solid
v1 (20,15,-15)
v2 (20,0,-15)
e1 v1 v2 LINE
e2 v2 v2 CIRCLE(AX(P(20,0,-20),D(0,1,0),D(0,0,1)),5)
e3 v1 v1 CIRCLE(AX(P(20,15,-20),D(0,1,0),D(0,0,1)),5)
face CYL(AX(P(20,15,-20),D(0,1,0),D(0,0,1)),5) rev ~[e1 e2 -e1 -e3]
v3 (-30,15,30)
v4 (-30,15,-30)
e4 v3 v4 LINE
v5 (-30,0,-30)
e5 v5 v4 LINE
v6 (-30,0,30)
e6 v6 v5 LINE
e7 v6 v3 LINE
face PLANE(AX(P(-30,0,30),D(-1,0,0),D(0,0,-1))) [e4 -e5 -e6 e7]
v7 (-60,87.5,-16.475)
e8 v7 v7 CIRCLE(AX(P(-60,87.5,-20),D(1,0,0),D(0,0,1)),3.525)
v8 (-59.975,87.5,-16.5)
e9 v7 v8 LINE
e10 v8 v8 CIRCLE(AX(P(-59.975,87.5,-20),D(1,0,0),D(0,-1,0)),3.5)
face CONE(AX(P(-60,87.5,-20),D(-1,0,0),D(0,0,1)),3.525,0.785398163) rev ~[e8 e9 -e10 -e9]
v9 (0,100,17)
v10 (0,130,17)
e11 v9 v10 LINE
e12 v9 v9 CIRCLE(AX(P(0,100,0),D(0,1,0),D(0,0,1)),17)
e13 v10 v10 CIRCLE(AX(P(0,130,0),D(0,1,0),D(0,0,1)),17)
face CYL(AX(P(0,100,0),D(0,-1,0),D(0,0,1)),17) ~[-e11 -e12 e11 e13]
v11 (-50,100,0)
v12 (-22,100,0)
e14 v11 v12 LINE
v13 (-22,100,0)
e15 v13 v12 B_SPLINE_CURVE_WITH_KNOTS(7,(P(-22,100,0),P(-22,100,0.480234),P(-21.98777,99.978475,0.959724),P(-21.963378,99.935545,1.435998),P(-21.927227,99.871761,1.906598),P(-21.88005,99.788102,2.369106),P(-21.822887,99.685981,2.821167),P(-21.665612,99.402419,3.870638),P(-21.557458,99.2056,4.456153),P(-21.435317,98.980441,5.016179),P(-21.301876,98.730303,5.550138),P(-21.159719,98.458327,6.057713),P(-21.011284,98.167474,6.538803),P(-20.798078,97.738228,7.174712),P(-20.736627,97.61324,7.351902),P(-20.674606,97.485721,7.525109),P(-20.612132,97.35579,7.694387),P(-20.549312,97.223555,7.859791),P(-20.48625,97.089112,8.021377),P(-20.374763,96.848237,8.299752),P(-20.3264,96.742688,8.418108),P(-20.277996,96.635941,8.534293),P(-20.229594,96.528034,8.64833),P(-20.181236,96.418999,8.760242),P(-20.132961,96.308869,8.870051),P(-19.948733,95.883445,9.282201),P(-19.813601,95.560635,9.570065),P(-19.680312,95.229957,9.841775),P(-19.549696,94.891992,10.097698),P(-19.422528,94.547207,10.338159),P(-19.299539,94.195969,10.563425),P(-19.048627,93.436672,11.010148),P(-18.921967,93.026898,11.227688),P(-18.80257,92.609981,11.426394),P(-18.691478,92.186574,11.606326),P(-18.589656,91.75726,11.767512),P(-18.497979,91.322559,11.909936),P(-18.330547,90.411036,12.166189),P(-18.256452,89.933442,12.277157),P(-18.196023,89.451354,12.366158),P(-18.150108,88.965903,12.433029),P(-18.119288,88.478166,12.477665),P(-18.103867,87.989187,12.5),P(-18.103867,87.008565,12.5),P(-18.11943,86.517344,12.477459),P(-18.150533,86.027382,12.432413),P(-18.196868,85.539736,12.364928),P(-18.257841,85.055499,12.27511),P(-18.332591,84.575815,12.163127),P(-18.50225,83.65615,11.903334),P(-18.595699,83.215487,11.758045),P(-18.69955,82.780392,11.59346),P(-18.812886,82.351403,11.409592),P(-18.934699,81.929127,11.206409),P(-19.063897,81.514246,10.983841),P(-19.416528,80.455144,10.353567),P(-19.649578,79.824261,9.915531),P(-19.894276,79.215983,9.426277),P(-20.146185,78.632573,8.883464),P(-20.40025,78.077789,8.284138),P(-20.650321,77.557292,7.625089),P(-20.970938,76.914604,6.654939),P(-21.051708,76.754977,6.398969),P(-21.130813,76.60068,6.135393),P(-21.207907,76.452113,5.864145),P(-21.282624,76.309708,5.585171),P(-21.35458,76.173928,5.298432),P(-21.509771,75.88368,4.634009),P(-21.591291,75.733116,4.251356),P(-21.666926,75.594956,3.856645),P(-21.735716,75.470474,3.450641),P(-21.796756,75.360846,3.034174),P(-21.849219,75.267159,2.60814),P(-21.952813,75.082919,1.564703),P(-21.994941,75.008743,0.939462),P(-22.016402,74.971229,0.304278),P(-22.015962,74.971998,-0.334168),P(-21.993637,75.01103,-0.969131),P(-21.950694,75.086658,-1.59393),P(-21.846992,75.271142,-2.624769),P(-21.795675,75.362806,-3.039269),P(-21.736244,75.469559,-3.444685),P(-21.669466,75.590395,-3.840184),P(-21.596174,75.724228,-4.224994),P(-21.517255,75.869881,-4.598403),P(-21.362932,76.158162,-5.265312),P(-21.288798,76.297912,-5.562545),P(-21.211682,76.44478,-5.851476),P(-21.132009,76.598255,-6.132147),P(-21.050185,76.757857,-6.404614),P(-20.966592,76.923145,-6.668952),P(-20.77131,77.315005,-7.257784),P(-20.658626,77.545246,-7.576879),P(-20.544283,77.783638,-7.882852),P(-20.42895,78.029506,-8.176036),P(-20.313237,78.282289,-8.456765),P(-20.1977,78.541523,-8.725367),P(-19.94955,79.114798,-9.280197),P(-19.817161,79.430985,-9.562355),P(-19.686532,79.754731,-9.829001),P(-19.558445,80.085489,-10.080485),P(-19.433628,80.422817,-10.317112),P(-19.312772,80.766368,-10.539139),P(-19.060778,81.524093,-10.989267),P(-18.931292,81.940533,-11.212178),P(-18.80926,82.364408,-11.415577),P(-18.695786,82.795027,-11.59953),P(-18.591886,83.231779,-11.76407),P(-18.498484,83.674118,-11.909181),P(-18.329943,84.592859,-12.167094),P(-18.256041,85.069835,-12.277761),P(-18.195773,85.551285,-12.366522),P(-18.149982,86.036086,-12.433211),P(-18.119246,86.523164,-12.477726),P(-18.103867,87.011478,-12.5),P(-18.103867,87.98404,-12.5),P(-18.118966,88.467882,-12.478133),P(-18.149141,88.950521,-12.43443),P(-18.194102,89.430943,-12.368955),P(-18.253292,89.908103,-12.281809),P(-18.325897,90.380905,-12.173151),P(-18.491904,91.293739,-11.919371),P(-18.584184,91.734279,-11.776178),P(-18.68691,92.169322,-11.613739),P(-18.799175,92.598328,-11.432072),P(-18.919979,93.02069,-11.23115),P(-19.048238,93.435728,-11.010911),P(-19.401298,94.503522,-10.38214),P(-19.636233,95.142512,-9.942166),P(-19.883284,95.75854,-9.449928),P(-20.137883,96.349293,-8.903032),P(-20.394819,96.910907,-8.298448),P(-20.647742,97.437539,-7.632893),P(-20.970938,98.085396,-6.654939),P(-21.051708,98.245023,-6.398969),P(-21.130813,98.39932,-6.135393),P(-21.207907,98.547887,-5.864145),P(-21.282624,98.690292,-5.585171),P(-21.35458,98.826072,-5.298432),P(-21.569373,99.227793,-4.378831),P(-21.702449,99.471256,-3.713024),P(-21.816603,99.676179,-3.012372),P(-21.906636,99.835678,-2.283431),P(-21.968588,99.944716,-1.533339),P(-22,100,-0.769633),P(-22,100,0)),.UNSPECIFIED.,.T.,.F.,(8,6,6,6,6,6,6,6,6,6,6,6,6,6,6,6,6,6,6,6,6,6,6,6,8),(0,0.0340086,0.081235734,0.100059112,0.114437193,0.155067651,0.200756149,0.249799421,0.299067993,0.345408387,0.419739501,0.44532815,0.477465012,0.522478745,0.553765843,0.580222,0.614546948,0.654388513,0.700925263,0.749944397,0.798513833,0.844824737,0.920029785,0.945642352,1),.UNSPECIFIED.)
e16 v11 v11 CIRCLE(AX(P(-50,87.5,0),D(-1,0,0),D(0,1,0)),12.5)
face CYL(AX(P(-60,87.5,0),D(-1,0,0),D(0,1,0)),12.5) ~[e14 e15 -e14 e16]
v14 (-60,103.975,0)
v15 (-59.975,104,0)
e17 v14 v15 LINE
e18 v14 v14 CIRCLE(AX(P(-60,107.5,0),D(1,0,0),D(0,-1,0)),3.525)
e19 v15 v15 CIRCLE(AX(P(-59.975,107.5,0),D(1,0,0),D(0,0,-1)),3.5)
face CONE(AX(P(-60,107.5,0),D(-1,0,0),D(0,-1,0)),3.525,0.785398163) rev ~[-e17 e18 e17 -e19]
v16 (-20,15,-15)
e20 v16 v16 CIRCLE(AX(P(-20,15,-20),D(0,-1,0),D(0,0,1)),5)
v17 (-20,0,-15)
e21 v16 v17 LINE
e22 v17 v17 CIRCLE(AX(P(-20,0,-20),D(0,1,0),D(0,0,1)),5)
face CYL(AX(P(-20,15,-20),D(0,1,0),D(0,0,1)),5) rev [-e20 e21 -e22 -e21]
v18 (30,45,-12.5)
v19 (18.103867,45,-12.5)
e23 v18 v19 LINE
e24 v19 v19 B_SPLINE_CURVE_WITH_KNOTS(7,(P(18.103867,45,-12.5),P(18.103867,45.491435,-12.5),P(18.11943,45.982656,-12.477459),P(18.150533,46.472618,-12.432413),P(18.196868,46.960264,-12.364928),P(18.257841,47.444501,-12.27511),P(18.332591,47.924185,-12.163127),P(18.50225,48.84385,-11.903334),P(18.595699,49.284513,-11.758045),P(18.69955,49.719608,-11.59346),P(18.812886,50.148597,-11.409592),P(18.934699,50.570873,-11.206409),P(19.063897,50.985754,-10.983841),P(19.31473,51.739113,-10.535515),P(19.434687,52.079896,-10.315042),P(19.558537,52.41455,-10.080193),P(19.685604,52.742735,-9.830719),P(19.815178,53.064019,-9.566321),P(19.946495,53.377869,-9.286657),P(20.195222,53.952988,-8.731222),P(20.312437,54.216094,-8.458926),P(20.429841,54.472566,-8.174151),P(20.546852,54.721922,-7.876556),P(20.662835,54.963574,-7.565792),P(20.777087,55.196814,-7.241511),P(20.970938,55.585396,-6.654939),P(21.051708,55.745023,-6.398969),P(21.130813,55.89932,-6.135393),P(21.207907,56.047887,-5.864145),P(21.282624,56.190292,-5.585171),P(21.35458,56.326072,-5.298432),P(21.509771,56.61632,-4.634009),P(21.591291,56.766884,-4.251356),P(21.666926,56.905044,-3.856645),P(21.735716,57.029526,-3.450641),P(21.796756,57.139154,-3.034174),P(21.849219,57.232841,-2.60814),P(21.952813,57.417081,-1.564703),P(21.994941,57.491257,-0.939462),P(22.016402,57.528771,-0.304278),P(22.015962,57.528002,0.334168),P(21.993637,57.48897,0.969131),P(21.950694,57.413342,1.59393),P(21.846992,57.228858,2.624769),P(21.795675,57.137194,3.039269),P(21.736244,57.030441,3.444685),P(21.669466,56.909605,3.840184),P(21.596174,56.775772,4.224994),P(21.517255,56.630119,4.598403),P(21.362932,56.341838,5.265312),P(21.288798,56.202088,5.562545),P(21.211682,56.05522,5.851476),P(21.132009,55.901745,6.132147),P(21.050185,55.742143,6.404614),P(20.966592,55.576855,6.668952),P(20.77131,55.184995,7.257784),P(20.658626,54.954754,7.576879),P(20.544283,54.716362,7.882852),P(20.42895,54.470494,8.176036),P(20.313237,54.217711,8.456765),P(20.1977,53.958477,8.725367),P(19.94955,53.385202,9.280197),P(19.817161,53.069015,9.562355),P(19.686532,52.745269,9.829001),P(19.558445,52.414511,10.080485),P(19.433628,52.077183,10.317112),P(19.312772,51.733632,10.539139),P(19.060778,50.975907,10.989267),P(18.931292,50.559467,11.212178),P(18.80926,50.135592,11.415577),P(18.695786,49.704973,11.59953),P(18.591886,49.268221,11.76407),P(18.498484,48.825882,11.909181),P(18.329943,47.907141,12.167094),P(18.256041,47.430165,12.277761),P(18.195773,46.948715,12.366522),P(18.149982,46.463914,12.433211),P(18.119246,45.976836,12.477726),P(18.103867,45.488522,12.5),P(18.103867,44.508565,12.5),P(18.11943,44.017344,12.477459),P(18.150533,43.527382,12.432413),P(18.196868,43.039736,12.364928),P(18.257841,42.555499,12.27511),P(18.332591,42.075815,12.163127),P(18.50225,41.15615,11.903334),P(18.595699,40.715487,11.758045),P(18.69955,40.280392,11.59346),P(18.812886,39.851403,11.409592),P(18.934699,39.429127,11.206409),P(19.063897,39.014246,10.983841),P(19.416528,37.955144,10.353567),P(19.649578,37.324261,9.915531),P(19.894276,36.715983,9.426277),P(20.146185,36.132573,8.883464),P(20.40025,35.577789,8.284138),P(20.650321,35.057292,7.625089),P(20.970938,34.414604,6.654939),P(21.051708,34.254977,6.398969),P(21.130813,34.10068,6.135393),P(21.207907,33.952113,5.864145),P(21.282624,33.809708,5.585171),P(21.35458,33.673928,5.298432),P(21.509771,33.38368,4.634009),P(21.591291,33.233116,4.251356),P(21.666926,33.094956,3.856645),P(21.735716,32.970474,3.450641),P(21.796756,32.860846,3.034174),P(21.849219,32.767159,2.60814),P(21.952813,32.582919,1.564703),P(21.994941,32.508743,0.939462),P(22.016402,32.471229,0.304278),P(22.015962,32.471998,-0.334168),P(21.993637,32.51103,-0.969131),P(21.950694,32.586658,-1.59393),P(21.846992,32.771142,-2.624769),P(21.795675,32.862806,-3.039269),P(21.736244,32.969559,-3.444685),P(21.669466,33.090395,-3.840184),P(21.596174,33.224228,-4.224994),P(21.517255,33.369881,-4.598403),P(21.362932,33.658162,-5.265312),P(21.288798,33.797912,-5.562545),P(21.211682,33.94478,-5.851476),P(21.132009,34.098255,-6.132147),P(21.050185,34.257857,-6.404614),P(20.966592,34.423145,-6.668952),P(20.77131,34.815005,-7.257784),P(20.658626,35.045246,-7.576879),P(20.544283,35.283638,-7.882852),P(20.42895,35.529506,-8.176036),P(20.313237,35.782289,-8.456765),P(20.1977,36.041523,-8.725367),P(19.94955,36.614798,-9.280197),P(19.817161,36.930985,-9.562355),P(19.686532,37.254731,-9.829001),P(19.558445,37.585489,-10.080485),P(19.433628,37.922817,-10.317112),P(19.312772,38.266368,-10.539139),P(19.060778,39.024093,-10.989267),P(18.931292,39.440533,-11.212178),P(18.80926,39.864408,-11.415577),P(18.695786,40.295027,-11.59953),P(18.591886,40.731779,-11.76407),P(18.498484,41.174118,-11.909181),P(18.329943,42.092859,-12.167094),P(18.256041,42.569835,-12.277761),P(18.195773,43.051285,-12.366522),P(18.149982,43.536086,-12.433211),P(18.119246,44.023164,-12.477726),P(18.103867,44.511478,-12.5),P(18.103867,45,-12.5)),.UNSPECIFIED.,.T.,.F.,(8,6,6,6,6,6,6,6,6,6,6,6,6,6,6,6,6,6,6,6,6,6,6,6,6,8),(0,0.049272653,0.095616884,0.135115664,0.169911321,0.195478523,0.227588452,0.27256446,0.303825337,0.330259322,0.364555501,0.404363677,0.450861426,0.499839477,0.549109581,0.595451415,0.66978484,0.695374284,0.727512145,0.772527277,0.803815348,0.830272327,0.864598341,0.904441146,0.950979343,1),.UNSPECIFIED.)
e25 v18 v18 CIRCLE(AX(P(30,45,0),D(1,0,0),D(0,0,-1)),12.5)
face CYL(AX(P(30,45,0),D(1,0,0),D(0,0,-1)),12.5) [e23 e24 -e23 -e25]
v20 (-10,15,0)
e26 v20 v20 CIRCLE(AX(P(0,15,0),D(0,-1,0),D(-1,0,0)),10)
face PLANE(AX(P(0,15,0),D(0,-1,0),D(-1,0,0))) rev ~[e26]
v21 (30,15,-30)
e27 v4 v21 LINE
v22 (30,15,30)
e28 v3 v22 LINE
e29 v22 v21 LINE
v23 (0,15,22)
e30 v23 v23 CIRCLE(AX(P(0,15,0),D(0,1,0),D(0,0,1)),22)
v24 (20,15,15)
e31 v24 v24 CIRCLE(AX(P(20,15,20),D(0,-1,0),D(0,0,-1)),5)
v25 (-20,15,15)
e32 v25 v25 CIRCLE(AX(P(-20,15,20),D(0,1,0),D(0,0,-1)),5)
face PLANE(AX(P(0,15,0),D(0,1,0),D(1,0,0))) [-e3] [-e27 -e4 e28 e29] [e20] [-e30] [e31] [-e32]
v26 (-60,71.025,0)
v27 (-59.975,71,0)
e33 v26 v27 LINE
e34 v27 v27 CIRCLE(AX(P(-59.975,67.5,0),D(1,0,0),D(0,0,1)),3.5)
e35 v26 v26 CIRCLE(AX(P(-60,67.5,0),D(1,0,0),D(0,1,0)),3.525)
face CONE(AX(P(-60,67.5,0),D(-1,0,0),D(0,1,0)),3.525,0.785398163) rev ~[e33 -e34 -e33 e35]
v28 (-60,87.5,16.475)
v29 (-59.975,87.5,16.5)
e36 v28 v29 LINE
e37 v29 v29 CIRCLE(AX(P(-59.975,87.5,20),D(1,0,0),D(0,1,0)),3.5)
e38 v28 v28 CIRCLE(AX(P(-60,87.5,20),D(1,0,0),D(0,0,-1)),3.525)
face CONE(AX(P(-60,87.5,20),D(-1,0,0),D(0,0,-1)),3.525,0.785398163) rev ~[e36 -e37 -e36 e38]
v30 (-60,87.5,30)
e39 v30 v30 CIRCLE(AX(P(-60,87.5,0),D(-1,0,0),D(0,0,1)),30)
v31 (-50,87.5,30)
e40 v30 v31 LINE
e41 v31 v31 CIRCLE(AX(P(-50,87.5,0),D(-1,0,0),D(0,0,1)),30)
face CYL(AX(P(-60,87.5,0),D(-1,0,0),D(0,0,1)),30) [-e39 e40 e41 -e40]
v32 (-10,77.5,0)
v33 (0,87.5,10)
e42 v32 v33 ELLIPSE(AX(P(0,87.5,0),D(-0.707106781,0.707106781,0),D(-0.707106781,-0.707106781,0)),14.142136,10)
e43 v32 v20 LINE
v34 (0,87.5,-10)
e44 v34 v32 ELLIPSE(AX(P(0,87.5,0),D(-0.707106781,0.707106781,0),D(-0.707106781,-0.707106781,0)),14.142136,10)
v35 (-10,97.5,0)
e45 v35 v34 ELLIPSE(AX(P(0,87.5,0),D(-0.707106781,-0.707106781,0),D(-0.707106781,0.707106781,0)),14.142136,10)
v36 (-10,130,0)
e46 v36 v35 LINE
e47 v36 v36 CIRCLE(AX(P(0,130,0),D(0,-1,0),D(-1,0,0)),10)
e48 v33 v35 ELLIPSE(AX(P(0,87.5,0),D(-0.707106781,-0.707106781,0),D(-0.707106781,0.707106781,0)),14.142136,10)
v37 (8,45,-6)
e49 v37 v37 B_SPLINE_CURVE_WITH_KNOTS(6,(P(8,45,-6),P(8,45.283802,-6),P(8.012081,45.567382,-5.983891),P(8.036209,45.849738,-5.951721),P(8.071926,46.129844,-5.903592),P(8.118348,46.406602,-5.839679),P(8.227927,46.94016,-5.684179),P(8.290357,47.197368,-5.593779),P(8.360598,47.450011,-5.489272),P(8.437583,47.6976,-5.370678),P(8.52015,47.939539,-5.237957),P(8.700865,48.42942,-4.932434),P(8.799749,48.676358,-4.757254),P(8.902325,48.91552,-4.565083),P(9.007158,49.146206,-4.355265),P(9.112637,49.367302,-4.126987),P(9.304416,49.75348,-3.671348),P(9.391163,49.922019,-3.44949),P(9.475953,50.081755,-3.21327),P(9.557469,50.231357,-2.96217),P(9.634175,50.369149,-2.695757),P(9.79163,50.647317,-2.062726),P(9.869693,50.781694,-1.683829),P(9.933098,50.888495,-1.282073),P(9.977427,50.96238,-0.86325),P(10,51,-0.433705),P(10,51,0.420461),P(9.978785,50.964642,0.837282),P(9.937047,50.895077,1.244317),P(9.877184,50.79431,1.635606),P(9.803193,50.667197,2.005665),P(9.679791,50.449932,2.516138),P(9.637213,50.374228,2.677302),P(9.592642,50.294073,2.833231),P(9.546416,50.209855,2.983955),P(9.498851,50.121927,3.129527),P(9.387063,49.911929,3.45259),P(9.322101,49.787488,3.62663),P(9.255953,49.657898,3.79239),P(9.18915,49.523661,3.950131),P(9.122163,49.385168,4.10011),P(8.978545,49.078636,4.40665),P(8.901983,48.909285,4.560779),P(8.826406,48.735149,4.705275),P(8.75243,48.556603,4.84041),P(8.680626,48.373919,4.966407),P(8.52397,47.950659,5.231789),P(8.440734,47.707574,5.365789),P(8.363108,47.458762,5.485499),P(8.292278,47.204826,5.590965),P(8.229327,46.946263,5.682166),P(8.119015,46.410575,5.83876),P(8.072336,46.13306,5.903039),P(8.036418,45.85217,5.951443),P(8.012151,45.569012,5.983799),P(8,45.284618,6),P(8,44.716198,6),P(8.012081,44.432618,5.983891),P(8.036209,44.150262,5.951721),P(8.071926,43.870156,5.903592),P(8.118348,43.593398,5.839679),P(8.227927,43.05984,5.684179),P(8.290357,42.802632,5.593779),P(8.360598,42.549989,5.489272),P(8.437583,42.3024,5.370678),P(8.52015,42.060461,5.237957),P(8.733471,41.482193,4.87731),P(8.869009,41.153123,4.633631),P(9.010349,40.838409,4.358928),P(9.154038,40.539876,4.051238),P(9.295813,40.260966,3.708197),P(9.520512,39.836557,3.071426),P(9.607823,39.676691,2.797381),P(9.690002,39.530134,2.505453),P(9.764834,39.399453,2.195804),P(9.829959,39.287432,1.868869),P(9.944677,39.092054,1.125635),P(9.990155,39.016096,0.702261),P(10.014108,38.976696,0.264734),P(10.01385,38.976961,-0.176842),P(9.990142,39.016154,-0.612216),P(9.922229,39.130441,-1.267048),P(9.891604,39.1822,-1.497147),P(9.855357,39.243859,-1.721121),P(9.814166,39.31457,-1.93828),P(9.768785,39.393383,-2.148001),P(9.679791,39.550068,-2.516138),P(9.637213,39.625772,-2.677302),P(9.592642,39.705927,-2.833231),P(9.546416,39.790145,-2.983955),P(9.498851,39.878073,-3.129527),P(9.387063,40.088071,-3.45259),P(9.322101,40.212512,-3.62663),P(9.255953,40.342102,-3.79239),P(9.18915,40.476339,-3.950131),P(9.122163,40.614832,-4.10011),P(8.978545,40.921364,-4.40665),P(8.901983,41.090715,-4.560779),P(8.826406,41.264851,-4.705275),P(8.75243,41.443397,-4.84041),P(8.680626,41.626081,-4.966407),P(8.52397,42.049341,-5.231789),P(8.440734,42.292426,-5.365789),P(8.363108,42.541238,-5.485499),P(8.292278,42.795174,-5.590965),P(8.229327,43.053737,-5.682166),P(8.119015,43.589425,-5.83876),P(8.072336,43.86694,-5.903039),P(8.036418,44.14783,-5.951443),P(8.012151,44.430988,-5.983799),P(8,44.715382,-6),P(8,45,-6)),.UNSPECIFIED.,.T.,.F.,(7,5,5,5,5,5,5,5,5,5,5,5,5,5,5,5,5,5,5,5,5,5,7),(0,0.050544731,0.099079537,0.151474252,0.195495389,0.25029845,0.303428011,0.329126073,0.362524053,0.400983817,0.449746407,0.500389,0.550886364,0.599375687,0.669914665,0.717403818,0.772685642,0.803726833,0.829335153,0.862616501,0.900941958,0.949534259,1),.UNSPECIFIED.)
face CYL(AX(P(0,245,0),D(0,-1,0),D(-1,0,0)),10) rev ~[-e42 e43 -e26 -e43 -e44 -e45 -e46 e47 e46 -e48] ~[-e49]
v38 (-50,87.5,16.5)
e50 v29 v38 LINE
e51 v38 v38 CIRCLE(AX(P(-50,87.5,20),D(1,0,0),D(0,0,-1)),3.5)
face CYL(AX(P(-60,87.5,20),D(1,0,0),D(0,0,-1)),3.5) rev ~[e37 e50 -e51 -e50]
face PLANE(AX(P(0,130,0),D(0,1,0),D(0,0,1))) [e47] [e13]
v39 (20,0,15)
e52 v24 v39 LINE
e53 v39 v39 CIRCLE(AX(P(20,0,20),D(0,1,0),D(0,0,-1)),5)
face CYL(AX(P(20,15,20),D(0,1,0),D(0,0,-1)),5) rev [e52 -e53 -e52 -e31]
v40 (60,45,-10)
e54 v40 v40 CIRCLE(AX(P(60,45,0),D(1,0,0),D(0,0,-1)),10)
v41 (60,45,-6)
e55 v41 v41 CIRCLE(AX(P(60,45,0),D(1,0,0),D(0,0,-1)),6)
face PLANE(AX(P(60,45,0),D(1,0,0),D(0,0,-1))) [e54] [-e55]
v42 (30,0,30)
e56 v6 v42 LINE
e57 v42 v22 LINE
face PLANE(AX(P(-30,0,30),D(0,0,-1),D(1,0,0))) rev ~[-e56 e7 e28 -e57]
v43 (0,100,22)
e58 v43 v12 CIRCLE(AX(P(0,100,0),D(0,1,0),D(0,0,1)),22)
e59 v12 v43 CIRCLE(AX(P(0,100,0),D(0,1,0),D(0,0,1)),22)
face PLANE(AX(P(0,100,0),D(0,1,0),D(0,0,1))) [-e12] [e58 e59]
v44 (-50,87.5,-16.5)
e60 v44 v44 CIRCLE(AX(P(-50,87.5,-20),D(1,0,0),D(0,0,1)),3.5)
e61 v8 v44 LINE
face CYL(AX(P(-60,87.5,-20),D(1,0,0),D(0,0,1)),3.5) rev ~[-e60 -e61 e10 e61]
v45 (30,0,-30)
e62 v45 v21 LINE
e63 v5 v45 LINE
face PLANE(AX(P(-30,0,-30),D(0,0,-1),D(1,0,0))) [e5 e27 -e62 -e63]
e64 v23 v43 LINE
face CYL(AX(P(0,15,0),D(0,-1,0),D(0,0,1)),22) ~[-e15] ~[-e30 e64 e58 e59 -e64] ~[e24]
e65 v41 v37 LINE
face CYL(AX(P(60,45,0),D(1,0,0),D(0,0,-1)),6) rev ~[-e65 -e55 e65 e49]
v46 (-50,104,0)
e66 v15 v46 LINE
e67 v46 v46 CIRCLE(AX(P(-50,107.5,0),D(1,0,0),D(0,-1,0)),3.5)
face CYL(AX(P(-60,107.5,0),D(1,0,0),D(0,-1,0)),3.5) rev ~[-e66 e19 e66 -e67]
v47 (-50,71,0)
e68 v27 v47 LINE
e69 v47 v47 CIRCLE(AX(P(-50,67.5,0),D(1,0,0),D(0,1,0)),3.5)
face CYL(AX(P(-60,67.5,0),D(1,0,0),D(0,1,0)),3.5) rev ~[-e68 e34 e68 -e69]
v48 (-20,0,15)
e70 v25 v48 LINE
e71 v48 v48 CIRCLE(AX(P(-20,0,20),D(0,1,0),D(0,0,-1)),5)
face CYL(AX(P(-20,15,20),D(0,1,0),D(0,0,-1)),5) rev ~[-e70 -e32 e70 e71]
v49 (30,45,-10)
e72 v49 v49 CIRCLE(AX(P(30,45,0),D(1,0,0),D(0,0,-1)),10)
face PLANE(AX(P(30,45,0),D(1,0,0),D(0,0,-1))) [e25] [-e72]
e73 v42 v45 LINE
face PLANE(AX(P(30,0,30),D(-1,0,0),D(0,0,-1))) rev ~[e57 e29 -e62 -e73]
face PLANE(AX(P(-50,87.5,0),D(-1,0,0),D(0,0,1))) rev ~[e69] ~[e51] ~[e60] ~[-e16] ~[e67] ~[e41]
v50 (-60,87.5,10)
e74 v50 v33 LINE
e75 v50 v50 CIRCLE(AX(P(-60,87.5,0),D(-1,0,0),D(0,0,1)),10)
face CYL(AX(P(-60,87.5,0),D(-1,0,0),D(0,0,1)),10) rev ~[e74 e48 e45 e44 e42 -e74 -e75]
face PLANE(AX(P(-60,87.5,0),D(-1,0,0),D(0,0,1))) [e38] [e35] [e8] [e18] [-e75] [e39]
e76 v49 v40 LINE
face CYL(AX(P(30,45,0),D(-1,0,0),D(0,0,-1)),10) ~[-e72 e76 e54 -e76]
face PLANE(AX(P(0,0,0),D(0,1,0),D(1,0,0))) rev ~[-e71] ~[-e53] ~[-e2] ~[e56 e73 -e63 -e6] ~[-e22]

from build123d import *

# Parameters (mm, degrees)
SKETCH1_W                             = 60
SKETCH1_H                             = 60
BOSS_EXTRUDE1_DEPTH                   = 15
SKETCH2_R                             = 22
BOSS_EXTRUDE2_DEPTH                   = 85
SKETCH3_R                             = 17
BOSS_EXTRUDE3_DEPTH                   = 30
HOLE1_D                               = 20
HOLE1_DEPTH                           = 115
SKETCH9_R                             = 5
CUT_EXTRUDE1_DEPTH                    = 123.576506721
MIRROR2_COPY_1_SKETCH_R               = 5
MIRROR2_COPY_1_DEPTH                  = 123.576506721
BOSS_EXTRUDE4_REACH                   = 162.935
BOSS_EXTRUDE4_END_RADIUS              = 22
SKETCH10_R                            = 12.5
SKETCH11_R                            = 30
BOSS_EXTRUDE5_DEPTH                   = 10
HOLE2_REACH                           = 162.935
HOLE2_BORE_R                          = 10
TAP_DRILL_FOR_M8X1_0_TAP1_D           = 7
TAP_DRILL_FOR_M8X1_0_TAP1_DEPTH       = 10
TAP_DRILL_FOR_M8X1_0_TAP1_CSINK_D     = 7.05
TAP_DRILL_FOR_M8X1_0_TAP1_CSINK_ANGLE = 90
CIRPATTERN1_COUNT                     = 4
BOSS_EXTRUDE6_REACH                   = 211.444
BOSS_EXTRUDE6_END_RADIUS              = 22
BOSS_EXTRUDE6_START                   = -30
SKETCH18_R                            = 12.5
SKETCH20_R                            = 10
BOSS_EXTRUDE7_DEPTH                   = 30
HOLE3_REACH                           = 181.444
HOLE3_BORE_R                          = 6


with BuildPart() as part:
    # Sketch1 → Boss-Extrude1 (new body)
    with BuildSketch(Plane(origin=(0, 0, 0), x_dir=(1, 0, 0), z_dir=(0, 1, 0))):
        Rectangle(SKETCH1_W, SKETCH1_H)
    extrude(amount=BOSS_EXTRUDE1_DEPTH)

    # Sketch2 → Boss-Extrude2 (add)
    with BuildSketch(Plane(origin=(0, 15, 0), x_dir=(1, 0, 0), z_dir=(0, 1, 0))):
        with Locations(Location((0, 0, 0), (0, 0, 270))):
            Circle(SKETCH2_R)
    extrude(amount=BOSS_EXTRUDE2_DEPTH)

    # Sketch3 → Boss-Extrude3 (add)
    with BuildSketch(Plane(origin=(0, 100, 0), x_dir=(1, 0, 0), z_dir=(0, 1, 0))):
        with Locations(Location((0, 0, 0), (0, 0, 270))):
            Circle(SKETCH3_R)
    extrude(amount=BOSS_EXTRUDE3_DEPTH)

    # Hole1
    with Locations(Plane(origin=(0, 130, 0), x_dir=(1, 0, 0), z_dir=(0, 1, 0))):
        with Locations((0, 0)):
            Hole(HOLE1_D / 2, depth=HOLE1_DEPTH)

    # Sketch9 → Cut-Extrude1 (cut, through all)
    with BuildSketch(Plane(origin=(0, 15, 0), x_dir=(1, 0, 0), z_dir=(0, 1, 0))):
        with Locations(Location((20, 20, 0), (0, 0, 270))):
            Circle(SKETCH9_R)
    cut_extrude1 = extrude(amount=-CUT_EXTRUDE1_DEPTH, mode=Mode.SUBTRACT)

    # Mirror1: Cut-Extrude1 across plane
    add(cut_extrude1.mirror(Plane(origin=(0, 0, 0), x_dir=(0, 0, 1), z_dir=(1, 0, 0))), mode=Mode.SUBTRACT)

    # Mirror2: Cut-Extrude1 across plane
    add(cut_extrude1.mirror(Plane.XY), mode=Mode.SUBTRACT)

    # Mirror2 copy 1 sketch → Mirror2 copy 1 (cut, through all)
    with BuildSketch(Plane(origin=(0, 15, 0), x_dir=(-1, 0, 0), z_dir=(0, 1, 0))):
        with Locations(Location((20, 20, 0), (0, 0, 270))):
            Circle(MIRROR2_COPY_1_SKETCH_R)
    extrude(amount=-MIRROR2_COPY_1_DEPTH, mode=Mode.SUBTRACT)

    # Boss-Extrude4: up to this cylinder (the profile starts outside it)
    boss_extrude4_end = Plane(origin=(0, 87.5, 0), z_dir=(0, -1, 0)) * Cylinder(BOSS_EXTRUDE4_END_RADIUS, 370.87, mode=Mode.PRIVATE)
    # Sketch10 → Boss-Extrude4 (add, up to the surface)
    with BuildSketch(Plane(origin=(-60, 0, 0), x_dir=(0, 0, -1), z_dir=(1, 0, 0)), mode=Mode.PRIVATE) as boss_extrude4_sk1:
        with Locations(Location((0, 87.5, 0), (0, 0, 90))):
            Circle(SKETCH10_R)
    boss_extrude4_tool1 = extrude(boss_extrude4_sk1.sketch, amount=BOSS_EXTRUDE4_REACH, mode=Mode.PRIVATE) - boss_extrude4_end
    add(boss_extrude4_tool1.solids().sort_by_distance((-60, 87.5, 0))[0])

    # Sketch11 → Boss-Extrude5 (add)
    with BuildSketch(Plane.ZY.offset(60)):
        with Locations((0, 87.5)):
            Circle(SKETCH11_R)
    extrude(amount=-BOSS_EXTRUDE5_DEPTH)

    # Hole2 bore → Hole2 (cut, up to next)
    with BuildSketch(Plane.ZY.offset(60), mode=Mode.PRIVATE) as hole2_sk1:
        with Locations((0, 87.5)):
            Circle(HOLE2_BORE_R)
    hole2_tool1 = extrude(hole2_sk1.sketch, amount=-HOLE2_REACH, mode=Mode.PRIVATE) & part.part
    add(hole2_tool1.solids().sort_by_distance((-60, 87.5, 0))[0], mode=Mode.SUBTRACT)

    # Tap Drill for M8x1.0 Tap1
    with Locations(Plane.ZY.offset(60)):
        with Locations((20, 87.5)):
            tap_drill_for_m8x1_0_tap1 = CounterSinkHole(TAP_DRILL_FOR_M8X1_0_TAP1_D / 2, TAP_DRILL_FOR_M8X1_0_TAP1_CSINK_D / 2, depth=TAP_DRILL_FOR_M8X1_0_TAP1_DEPTH, counter_sink_angle=TAP_DRILL_FOR_M8X1_0_TAP1_CSINK_ANGLE)

    # CirPattern1: Tap Drill for M8x1.0 Tap1 ×4 about axis
    cirpattern1_axis = Axis((0, 87.5, 0), (1, 0, 0))
    for i in range(1, CIRPATTERN1_COUNT):
        add(tap_drill_for_m8x1_0_tap1.rotate(cirpattern1_axis, i * 360 / CIRPATTERN1_COUNT), mode=Mode.SUBTRACT)

    # Boss-Extrude6: up to this cylinder (the profile starts outside it)
    boss_extrude6_end = Plane(origin=(0, 45, 0), z_dir=(0, -1, 0)) * Cylinder(BOSS_EXTRUDE6_END_RADIUS, 467.888, mode=Mode.PRIVATE)
    # Sketch18 → Boss-Extrude6 (add, up to the surface)
    with BuildSketch(Plane(origin=(60, 0, 0), x_dir=(0, 0, -1), z_dir=(1, 0, 0)).offset(BOSS_EXTRUDE6_START), mode=Mode.PRIVATE) as boss_extrude6_sk1:
        with Locations((0, 45)):
            Circle(SKETCH18_R)
    boss_extrude6_tool1 = extrude(boss_extrude6_sk1.sketch, amount=-BOSS_EXTRUDE6_REACH, mode=Mode.PRIVATE) - boss_extrude6_end
    add(boss_extrude6_tool1.solids().sort_by_distance((30, 45, 0))[0])

    # Sketch20 → Boss-Extrude7 (add)
    with BuildSketch(Plane(origin=(30, 0, 0), x_dir=(0, 0, -1), z_dir=(1, 0, 0))):
        with Locations((0, 45)):
            Circle(SKETCH20_R)
    extrude(amount=BOSS_EXTRUDE7_DEPTH)

    # Hole3 bore → Hole3 (cut, up to next)
    with BuildSketch(Plane(origin=(60, 0, 0), x_dir=(0, 0, -1), z_dir=(1, 0, 0)), mode=Mode.PRIVATE) as hole3_sk1:
        with Locations((0, 45)):
            Circle(HOLE3_BORE_R)
    hole3_tool1 = extrude(hole3_sk1.sketch, amount=-HOLE3_REACH, mode=Mode.PRIVATE) & part.part
    add(hole3_tool1.solids().sort_by_distance((60, 45, 0))[0], mode=Mode.SUBTRACT)


solid = part.part
